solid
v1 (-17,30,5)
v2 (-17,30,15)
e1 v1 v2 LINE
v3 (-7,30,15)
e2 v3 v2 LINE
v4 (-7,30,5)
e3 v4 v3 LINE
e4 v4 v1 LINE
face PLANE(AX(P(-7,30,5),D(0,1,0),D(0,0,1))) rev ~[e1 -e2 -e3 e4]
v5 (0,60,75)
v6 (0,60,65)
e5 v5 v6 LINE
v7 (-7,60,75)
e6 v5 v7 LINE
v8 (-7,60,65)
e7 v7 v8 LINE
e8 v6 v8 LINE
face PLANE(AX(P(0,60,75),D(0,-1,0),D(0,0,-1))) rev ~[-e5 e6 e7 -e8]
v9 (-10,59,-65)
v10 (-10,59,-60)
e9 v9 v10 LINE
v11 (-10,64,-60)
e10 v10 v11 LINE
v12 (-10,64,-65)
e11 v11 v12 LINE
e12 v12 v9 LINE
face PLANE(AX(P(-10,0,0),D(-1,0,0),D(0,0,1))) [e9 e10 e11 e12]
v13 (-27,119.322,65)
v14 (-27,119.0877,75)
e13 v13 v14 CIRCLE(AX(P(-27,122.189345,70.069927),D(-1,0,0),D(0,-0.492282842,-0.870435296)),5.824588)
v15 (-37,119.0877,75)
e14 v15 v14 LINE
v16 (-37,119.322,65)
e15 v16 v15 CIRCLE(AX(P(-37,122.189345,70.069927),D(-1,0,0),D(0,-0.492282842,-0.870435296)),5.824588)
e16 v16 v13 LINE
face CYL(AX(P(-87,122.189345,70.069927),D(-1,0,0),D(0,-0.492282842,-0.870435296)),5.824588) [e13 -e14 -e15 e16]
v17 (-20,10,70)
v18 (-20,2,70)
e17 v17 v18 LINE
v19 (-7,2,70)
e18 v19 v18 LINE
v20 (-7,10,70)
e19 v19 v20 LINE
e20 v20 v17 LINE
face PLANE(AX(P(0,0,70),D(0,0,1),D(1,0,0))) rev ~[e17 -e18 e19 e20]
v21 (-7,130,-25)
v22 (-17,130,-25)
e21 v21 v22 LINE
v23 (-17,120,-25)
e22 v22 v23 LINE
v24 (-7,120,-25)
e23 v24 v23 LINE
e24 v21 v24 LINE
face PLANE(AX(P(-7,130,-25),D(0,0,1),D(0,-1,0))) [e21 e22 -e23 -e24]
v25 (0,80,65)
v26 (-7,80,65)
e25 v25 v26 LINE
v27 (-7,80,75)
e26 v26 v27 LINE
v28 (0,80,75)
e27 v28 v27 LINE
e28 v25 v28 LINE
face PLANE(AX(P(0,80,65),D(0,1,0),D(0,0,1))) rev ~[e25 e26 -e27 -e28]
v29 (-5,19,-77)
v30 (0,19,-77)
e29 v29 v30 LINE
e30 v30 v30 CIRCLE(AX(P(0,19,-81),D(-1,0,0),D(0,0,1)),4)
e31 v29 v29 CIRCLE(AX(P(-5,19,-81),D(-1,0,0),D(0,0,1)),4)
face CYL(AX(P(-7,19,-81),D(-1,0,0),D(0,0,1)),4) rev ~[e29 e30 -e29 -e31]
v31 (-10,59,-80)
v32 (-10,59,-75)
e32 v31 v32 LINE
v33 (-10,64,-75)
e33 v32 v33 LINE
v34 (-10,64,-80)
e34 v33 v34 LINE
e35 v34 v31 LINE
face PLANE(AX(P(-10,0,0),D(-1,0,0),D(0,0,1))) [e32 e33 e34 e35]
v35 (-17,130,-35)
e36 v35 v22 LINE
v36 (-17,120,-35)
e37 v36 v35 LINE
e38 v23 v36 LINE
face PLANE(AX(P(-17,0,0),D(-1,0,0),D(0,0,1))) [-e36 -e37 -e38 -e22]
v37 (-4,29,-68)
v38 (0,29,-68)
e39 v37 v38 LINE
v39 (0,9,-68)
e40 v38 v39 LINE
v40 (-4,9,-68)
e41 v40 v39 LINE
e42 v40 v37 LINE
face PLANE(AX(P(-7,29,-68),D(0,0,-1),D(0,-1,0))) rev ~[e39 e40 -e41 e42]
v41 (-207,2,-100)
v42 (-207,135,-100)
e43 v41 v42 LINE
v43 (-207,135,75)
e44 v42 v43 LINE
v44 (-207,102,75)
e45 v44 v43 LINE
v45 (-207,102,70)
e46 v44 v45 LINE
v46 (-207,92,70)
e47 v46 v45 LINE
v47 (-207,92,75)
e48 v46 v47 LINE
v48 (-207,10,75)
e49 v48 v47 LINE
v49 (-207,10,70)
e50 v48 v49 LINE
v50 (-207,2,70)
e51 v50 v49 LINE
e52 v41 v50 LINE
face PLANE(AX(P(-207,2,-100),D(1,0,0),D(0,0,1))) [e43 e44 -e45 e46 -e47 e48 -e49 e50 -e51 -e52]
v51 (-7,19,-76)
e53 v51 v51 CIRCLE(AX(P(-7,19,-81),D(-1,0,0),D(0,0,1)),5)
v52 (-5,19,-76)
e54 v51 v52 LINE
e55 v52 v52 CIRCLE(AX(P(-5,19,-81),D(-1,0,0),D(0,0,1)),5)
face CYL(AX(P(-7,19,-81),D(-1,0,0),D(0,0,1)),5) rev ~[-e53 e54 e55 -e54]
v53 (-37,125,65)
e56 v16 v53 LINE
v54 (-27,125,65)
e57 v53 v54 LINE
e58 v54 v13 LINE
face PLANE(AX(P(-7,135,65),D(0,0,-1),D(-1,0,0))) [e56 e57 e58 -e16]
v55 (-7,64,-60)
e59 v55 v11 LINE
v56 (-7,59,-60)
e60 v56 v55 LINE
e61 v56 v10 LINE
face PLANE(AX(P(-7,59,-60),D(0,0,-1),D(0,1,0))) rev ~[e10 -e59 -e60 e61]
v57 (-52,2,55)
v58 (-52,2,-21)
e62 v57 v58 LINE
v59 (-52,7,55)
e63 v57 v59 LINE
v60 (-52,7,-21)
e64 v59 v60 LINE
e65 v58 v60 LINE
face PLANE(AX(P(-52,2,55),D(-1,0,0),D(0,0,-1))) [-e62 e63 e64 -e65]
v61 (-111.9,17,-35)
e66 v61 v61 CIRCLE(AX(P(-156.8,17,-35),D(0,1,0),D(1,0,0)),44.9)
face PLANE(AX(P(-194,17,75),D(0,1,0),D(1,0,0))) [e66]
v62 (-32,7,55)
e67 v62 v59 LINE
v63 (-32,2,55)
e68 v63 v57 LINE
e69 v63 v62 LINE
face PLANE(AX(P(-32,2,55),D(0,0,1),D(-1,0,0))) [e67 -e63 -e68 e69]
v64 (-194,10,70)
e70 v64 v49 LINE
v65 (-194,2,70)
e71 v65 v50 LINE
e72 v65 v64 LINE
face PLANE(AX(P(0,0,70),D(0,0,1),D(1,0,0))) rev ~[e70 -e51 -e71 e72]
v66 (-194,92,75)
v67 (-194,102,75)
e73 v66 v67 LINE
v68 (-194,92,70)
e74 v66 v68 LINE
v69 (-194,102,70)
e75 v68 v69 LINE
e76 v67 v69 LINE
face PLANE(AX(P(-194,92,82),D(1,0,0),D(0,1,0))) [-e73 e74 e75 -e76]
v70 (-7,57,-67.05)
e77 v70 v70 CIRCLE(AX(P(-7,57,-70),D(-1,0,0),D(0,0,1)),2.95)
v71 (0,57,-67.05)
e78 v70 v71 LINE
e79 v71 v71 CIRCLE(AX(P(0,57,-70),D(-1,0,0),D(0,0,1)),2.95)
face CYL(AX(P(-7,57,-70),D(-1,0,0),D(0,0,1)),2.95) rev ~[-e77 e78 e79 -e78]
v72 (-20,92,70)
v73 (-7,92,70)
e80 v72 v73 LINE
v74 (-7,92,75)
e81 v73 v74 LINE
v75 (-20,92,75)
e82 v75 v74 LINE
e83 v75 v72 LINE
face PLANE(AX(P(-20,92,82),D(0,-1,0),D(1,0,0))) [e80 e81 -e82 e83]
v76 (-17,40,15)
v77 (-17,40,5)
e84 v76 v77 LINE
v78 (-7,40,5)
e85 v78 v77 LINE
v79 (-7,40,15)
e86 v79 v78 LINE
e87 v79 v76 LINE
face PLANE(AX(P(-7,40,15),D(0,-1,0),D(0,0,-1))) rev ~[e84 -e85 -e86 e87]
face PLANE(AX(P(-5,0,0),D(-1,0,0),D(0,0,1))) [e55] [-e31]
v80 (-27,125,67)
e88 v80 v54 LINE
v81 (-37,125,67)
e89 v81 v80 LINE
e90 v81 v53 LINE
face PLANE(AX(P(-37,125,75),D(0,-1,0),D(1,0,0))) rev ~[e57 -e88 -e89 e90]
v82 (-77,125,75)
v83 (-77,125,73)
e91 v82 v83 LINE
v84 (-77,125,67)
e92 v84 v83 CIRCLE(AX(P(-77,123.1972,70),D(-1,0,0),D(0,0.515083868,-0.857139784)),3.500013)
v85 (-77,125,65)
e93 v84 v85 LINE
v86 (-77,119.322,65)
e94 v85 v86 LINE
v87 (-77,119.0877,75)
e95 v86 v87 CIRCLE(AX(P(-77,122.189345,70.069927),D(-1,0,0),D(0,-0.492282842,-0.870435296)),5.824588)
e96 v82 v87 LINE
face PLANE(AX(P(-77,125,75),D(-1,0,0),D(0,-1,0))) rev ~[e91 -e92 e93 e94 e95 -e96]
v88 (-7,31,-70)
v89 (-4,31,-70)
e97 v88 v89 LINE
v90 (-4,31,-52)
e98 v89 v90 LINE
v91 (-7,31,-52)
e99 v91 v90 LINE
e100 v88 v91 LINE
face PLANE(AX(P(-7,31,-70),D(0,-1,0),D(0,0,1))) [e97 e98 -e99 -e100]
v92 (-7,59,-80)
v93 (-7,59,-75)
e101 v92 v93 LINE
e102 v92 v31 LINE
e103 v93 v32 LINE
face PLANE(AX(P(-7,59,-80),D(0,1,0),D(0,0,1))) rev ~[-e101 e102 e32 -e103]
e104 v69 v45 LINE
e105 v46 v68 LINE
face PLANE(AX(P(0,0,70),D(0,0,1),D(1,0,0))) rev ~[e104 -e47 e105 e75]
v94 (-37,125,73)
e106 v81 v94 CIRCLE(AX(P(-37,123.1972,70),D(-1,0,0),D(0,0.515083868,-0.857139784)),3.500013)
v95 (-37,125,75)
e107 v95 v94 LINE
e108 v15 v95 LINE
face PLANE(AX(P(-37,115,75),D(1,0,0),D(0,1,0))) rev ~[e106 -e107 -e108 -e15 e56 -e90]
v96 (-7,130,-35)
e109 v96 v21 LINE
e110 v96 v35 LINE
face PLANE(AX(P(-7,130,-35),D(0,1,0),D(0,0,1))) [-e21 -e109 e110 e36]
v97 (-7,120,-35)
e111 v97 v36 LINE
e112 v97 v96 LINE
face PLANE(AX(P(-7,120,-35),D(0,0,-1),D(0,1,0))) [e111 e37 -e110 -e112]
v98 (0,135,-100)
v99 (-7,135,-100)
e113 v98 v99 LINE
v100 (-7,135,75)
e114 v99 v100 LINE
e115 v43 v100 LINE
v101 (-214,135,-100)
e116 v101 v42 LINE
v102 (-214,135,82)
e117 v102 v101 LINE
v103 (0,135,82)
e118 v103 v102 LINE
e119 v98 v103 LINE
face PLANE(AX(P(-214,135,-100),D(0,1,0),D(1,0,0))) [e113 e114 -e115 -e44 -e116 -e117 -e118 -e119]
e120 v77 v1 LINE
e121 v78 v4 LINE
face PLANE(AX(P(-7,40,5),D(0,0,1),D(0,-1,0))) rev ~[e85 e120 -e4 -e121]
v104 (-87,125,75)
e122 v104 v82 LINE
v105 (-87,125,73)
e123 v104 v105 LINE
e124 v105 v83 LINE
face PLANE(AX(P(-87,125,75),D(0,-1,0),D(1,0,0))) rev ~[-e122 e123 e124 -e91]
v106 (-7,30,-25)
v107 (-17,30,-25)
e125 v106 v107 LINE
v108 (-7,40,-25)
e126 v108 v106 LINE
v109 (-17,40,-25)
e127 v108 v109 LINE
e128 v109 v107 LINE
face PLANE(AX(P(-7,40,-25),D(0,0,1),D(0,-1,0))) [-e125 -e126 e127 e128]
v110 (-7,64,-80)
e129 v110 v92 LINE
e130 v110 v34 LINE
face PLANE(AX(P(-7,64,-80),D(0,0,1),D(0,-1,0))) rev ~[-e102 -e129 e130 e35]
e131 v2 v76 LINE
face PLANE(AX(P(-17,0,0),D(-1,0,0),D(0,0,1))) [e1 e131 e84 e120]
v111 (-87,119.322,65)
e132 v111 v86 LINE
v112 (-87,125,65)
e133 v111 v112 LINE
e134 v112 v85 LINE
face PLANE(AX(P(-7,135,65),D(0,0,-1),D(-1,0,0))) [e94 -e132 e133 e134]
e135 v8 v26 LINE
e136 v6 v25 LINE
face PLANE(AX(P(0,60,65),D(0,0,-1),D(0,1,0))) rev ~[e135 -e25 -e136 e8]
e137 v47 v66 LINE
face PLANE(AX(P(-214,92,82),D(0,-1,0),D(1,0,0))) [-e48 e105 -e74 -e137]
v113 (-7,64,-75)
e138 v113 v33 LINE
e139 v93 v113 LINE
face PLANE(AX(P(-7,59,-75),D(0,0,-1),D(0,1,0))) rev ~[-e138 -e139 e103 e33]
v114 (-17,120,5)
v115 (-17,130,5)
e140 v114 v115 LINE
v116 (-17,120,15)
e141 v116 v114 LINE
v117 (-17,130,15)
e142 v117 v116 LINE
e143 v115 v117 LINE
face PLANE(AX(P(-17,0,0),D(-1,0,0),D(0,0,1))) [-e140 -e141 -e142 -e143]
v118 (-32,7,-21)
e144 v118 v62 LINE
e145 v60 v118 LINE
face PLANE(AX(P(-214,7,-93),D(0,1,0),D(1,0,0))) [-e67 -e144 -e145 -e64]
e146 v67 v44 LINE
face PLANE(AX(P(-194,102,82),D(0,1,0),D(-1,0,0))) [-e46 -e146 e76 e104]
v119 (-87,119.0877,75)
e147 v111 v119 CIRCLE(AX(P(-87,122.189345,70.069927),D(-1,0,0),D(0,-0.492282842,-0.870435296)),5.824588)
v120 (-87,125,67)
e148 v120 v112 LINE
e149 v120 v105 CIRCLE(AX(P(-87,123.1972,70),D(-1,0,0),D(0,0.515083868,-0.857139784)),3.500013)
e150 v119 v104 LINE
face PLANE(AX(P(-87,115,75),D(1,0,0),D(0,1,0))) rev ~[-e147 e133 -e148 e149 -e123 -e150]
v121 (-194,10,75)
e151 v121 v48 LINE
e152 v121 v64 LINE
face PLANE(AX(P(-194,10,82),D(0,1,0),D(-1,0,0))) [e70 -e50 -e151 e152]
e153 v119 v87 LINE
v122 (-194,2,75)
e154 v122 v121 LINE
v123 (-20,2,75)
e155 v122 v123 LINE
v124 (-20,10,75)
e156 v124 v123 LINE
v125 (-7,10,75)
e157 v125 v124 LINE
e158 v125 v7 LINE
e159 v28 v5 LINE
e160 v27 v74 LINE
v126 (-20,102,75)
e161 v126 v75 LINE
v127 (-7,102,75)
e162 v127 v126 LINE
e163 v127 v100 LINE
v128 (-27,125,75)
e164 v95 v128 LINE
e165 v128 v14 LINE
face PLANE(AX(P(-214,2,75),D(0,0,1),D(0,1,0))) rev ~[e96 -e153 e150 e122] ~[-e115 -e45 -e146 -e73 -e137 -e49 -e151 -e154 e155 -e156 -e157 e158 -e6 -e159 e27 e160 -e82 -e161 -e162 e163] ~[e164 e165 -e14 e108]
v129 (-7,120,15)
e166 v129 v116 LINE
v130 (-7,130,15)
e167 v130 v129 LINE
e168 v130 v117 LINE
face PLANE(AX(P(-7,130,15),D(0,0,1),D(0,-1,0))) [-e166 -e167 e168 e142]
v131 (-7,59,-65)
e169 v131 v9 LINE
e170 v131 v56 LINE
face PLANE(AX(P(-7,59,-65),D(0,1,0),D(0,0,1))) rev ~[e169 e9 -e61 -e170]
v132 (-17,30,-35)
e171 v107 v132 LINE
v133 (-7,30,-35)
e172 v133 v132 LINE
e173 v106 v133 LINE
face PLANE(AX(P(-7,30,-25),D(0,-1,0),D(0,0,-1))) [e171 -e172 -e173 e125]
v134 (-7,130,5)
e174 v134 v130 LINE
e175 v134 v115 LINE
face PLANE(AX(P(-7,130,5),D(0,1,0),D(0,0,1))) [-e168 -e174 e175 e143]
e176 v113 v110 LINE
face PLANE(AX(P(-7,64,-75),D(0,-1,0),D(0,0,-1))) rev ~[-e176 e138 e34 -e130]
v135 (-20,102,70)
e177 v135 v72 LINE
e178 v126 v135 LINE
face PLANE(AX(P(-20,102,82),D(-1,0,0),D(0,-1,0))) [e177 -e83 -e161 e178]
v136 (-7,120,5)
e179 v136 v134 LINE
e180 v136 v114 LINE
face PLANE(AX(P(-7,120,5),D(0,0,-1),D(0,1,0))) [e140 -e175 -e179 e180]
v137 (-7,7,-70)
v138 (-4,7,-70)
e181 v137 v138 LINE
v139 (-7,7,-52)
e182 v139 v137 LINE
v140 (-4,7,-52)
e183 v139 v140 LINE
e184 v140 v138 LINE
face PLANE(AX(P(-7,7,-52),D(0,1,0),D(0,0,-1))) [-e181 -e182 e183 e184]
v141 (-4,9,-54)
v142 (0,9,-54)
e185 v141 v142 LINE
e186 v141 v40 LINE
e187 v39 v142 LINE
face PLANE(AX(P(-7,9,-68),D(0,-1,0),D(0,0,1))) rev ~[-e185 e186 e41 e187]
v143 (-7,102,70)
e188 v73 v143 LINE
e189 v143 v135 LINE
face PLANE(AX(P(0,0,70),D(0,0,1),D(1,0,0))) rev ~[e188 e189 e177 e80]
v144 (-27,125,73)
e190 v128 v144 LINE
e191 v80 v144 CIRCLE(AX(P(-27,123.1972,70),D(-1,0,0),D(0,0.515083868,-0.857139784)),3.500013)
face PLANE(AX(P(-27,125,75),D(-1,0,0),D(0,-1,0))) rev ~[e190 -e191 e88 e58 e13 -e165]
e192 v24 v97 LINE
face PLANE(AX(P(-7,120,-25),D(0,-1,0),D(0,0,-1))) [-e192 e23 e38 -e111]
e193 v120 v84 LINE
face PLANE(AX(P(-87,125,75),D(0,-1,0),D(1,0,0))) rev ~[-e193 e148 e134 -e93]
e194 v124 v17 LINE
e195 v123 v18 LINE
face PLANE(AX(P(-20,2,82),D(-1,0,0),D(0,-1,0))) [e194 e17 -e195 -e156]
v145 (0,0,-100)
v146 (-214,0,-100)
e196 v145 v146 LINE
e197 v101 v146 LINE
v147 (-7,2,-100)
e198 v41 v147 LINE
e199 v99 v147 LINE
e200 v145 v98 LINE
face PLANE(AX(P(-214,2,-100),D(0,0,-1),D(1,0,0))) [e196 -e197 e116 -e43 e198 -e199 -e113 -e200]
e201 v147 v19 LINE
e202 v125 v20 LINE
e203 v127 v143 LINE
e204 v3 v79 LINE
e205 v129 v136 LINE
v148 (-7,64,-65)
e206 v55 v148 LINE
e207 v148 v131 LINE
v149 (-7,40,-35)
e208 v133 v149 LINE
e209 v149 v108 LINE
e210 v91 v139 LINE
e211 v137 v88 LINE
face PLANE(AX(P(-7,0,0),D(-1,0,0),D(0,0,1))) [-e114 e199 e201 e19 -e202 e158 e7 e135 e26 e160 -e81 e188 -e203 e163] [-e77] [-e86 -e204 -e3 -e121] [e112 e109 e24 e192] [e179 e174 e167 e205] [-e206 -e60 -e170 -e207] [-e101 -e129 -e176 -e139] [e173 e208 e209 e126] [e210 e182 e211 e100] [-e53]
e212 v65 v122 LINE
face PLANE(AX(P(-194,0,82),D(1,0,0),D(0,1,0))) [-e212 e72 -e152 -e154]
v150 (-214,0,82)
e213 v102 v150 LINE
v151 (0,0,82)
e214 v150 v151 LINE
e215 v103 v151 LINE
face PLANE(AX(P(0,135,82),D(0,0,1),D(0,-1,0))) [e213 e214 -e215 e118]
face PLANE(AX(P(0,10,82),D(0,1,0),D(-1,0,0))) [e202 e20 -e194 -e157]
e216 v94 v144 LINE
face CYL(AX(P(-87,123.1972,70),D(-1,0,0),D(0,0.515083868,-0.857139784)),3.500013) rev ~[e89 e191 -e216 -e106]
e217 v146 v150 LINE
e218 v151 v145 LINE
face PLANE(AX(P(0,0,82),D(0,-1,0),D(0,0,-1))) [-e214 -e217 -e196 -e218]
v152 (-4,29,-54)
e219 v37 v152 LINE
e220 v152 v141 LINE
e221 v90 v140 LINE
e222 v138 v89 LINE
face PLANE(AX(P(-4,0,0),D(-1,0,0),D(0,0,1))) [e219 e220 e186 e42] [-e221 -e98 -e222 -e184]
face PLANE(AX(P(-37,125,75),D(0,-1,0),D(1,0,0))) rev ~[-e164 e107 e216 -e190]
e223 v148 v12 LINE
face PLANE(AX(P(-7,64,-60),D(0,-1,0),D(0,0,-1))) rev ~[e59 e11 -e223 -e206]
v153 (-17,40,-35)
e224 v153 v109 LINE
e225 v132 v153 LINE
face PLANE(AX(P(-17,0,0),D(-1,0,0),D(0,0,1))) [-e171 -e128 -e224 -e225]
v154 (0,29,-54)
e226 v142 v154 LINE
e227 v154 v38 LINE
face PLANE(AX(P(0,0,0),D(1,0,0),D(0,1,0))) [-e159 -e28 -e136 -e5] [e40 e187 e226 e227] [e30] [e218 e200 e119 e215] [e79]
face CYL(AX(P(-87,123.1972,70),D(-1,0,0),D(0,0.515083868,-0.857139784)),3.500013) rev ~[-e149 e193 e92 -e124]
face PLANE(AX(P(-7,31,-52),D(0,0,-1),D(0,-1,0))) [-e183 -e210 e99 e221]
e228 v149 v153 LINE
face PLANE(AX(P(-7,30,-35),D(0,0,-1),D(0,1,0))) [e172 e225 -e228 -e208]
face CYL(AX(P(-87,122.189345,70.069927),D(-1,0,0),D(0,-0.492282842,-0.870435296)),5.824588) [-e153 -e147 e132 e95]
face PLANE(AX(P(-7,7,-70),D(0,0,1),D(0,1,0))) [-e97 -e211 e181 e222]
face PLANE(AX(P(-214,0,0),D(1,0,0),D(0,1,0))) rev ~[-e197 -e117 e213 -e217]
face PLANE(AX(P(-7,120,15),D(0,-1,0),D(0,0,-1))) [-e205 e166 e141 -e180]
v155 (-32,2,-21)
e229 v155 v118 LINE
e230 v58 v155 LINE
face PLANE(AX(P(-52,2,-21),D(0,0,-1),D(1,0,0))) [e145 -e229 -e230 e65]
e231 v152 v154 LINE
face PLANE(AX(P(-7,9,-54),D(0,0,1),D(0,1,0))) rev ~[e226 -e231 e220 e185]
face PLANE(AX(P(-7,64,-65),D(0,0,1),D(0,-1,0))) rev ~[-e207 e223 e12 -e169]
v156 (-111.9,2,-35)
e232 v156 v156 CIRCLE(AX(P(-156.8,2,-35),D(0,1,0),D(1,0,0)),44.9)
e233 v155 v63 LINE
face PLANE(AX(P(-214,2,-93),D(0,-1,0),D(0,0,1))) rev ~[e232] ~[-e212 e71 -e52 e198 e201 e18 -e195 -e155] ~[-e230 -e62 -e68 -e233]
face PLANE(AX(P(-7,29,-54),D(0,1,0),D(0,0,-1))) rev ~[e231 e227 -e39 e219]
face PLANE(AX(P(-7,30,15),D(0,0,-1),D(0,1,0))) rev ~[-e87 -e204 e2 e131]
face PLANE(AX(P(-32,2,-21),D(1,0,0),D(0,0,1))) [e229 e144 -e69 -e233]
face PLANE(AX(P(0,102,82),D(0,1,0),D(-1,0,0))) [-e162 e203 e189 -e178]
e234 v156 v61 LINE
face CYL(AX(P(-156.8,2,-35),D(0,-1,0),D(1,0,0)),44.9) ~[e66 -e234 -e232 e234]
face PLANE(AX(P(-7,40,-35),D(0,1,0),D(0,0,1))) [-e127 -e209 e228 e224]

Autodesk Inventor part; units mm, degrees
ref_plane "YZ Plane" through (0, 0, 0) normal (1, 0, 0) x (0, 1, 0)
ref_plane "XY Plane" through (0, 0, 0) normal (0, 0, 1) x (1, 0, 0)
sketch "Boceto1" plane through (0, 0, 0) normal (1, 0, 0) x (0, 1, 0)
  line L0 (135, 82) -> (0, 82)
  line L1 (0, 82) -> (0, -100)
  line L2 (0, -100) -> (135, -100)
  line L3 (135, -100) -> (135, 82)
  line L4 (135, 82) -> (0, -100) construction
  line L5 (0, 82) -> (135, -100) construction
  point P0 (0, 0)
  point P1 (67.5, -9)
  dimension "d0" = 182
  dimension "d1" = 135
  dimension "d2" = 100
extrude "Extrusión1" add sketch "Boceto1" against normal blind 214
sketch "Boceto2" plane through (-214, 0, 0) normal (-1, 0, 0) x (0, 0, 1)
  line L0 (82, 135) -> (-100, 135) projected
  line L1 (-93, 2) -> (75, 2)
  line L2 (75, 2) -> (75, 135)
  line L3 (75, 135) -> (-93, 135)
  line L4 (-93, 135) -> (-93, 2)
  line L5 (-93, 2) -> (75, 135) construction
  line L6 (75, 2) -> (-93, 135) construction
  line L7 (-100, 0) -> (82, 0) projected
  line L8 (82, 0) -> (82, 135) projected
  line L9 (-100, 135) -> (-100, 0) projected
  point P0 (0, 0)
  point P1 (-9, 68.5)
  point P2 (-93, 135)
  dimension "d5" = 2
  dimension "d6" = 7
  dimension "d7" = 7
extrude "Extrusión2" cut sketch "Boceto2" against normal blind 207 contours L2 L1 L4 L0
sketch "Boceto3" plane through (0, 0, 82) normal (0, 0, 1) x (1, 0, 0)
  line L0 (-20, 0) -> (0, 0)
  line L1 (0, 0) -> (0, 10)
  line L2 (0, 10) -> (-20, 10)
  line L3 (-20, 10) -> (-20, 0)
  line L4 (-20, 0) -> (0, 10) construction
  line L5 (0, 0) -> (-20, 10) construction
  line L6 (-214, 0) -> (-194, 0)
  line L7 (-194, 0) -> (-194, 10)
  line L8 (-194, 10) -> (-214, 10)
  line L9 (-214, 10) -> (-214, 0)
  line L10 (-214, 0) -> (-194, 10) construction
  line L11 (-194, 0) -> (-214, 10) construction
  line L12 (-20, 92) -> (0, 92)
  line L13 (0, 92) -> (0, 102)
  line L14 (0, 102) -> (-20, 102)
  line L15 (-20, 102) -> (-20, 92)
  line L16 (-20, 92) -> (0, 102) construction
  line L17 (0, 92) -> (-20, 102) construction
  line L18 (-214, 0) -> (-214, 135) projected
  line L19 (0, 135) -> (0, 0) projected
  line L20 (0, 0) -> (-214, 0) projected
  line L21 (-214, 92) -> (-194, 92)
  line L22 (-194, 92) -> (-194, 102)
  line L23 (-194, 102) -> (-214, 102)
  line L24 (-214, 102) -> (-214, 92)
  line L25 (-214, 92) -> (-194, 102) construction
  line L26 (-194, 92) -> (-214, 102) construction
  line L27 (-214, 2) -> (-7, 2) projected
  point P0 (-10, 5)
  point P1 (-204, 5)
  point P2 (-10, 97)
  point P3 (-204, 97)
  point P4 (-10, 0)
  dimension "d10" = 20
  dimension "d11" = 10
  dimension "d13" = 10
  dimension "d14" = 20
  dimension "d65" = 100
extrude "Extrusión3" add sketch "Boceto3" against normal blind 12 contours L3 L2 L1 L0 | L18 L23 L22 L21 | L12 L15 L14 L13 | L6 L9 L27 L7 | L27 L9 L8 L7
sketch "Sketch4" plane through (0, 0, 0) normal (1, 0, 0) x (0, 0, -1)
  line L0 (-82, 0) -> (-82, 135)
  line L1 (-100, 90) -> (-100, 60)
  line L2 (-82, 0) -> (100, 0) projected
  line L3 (-75, 60) -> (-65, 60)
  line L4 (-65, 60) -> (-65, 80)
  line L5 (-65, 80) -> (-75, 80)
  line L6 (-75, 80) -> (-75, 60)
  line L7 (-75, 60) -> (-65, 80) construction
  line L8 (-65, 60) -> (-75, 80) construction
  point P0 (0, 0)
  point P1 (-70, 70)
  point P2 (-70, 60)
  dimension "d43" = 17
  dimension "d44" = 7
  dimension "d45" = 20
  dimension "d46" = 60
extrude "Extrusion4" cut sketch "Sketch4" against normal up to next
sketch "Sketch5" plane through (-7, 0, 0) normal (-1, 0, 0) x (0, 0, 1)
  line L0 (-35, 130) -> (-25, 130)
  line L1 (-25, 130) -> (-25, 120)
  line L2 (-25, 120) -> (-35, 120)
  line L3 (-35, 120) -> (-35, 130)
  line L4 (5, 130) -> (15, 130)
  line L5 (15, 130) -> (15, 120)
  line L6 (15, 120) -> (5, 120)
  line L7 (5, 120) -> (5, 130)
  line L8 (-35, 40) -> (-25, 40)
  line L9 (-25, 40) -> (-25, 30)
  line L10 (-25, 30) -> (-35, 30)
  line L11 (-35, 30) -> (-35, 40)
  line L12 (15, 40) -> (5, 40)
  line L13 (5, 40) -> (5, 30)
  line L14 (5, 30) -> (15, 30)
  line L15 (15, 30) -> (15, 40)
  line L16 (-93, 135) -> (75, 135) projected
  line L17 (75, 135) -> (75, 102) projected
  line L18 (70, 2) -> (-93, 2) projected
  line L19 (75, 92) -> (75, 10) projected
  point P0 (0, 0)
  point P1 (-30, 130)
  point P2 (-30, 30)
  point P3 (10, 130)
  point P4 (15, 125)
  dimension "d25" = 10
  dimension "d26" = 10
  dimension "d27" = 10
  dimension "d28" = 10
  dimension "d29" = 100
  dimension "d31" = 5
  dimension "d32" = 60
  dimension "d77" = 50
extrude "Extrusion5" add sketch "Sketch5" along normal blind 10
sketch "Sketch8" plane through (-7, 135, 75) normal (0, 0, -1) x (-1, 0, 0)
  line L0 (20, -20) -> (30, -20)
  line L1 (30, -20) -> (30, -10)
  line L2 (30, -10) -> (20, -10)
  line L3 (20, -10) -> (20, -20)
  line L4 (20, -20) -> (30, -10) construction
  line L5 (30, -20) -> (20, -10) construction
  line L6 (70, -20) -> (80, -20)
  line L7 (80, -20) -> (80, -10)
  line L8 (80, -10) -> (70, -10)
  line L9 (70, -10) -> (70, -20)
  line L10 (70, -20) -> (80, -10) construction
  line L11 (80, -20) -> (70, -10) construction
  line L12 (0, 0) -> (207, 0) projected
  line L13 (0, 0) -> (0, -33) projected
  point P0 (-7, -135)
  point P1 (25, -15)
  point P2 (75, -15)
  dimension "d47" = 10
  dimension "d48" = 10
  dimension "d49" = 10
  dimension "d50" = 10
  dimension "d51" = 50
  dimension "d52" = 10
  dimension "d53" = 20
extrude "Extrusion6" add sketch "Sketch8" along normal blind 10
sketch "Sketch9" plane through (-7, 0, 0) normal (-1, 0, 0) x (0, 0, 1)
  line L0 (-68, 9) -> (-54, 9)
  line L1 (-54, 9) -> (-54, 29)
  line L2 (-54, 29) -> (-68, 29)
  line L3 (-68, 29) -> (-68, 9)
  line L4 (-68, 9) -> (-54, 29) construction
  line L5 (-54, 9) -> (-68, 29) construction
  line L6 (70, 2) -> (-93, 2) projected
  line L7 (-93, 2) -> (-93, 135) projected
  circle A0 centre (-81, 19) radius 4
  point P0 (0, 0)
  point P1 (-61, 19)
  dimension "d56" = 20
  dimension "d57" = 14
  dimension "d58" = 7
  dimension "d59" = 25
  dimension "d60" = 8
  dimension "d61" = 20
  dimension "d62" = 17
extrude "Extrusion7" cut sketch "Sketch9" against normal up to next
sketch "Sketch10" plane through (-87, 115, 75) normal (-1, 0, 0) x (0, 0, 1)
  line L0 (0, 10) -> (-10, 10) projected
  arc A0 (-8, 10) -> (-2, 10) centre (-5, 8.1972) ccw
  line L1 (0, 20) -> (0, -13) projected
  point P0 (-75, -115)
  dimension "d66" = 3.5
  dimension "d67" = 2
  dimension "d68" = 2
extrude "Extrusion8" cut sketch "Sketch10" against normal up to surface (60 mm away)
sketch "Sketch11" plane through (-87, 115, 75) normal (-1, 0, 0) x (0, 0, 1)
  line L0 (-10, 10) -> (-10, 0) projected
  line L1 (0, 0) -> (0, 10) projected
  arc A0 (-10, 4.322) -> (0, 4.0877) centre (-4.9301, 7.1893) ccw
  line L2 (-10, 4.322) -> (-10, 0)
  line L3 (0, 0) -> (-10, 0) projected
  line L4 (0, 0) -> (0, 4.0877)
  line L5 (-10, 4.322) -> (-10, 0)
  line L6 (0, 0) -> (0, 4.0877)
  line L7 (-10, 4.322) -> (-10, 0)
  line L8 (0, 0) -> (0, 4.0877)
  line L9 (-10, 4.322) -> (-10, 0)
  line L10 (0, 0) -> (0, 4.0877)
  point P0 (-75, -115)
  point P1 (-5, 0)
  point P2 (-5.0665, 1.3663)
  dimension "d71" = 5.8246
  dimension "d73" = 4.322
  dimension "d74" = 1.3663
extrude "Extrusion9" cut sketch "Sketch11" against normal up to surface (60 mm away)
sketch "Sketch12" plane through (-214, 2, -93) normal (0, 1, 0) x (1, 0, 0)
  line L0 (162, -72) -> (182, -72)
  line L1 (182, -72) -> (182, -148)
  line L2 (182, -148) -> (162, -148)
  line L3 (162, -148) -> (162, -72)
  line L4 (162, -72) -> (182, -148) construction
  line L5 (182, -72) -> (162, -148) construction
  line L6 (207, 0) -> (207, -168) projected
  line L7 (207, -168) -> (0, -168) projected
  point P0 (214, -93)
  point P1 (172, -110)
  dimension "d78" = 76
  dimension "d79" = 20
  dimension "d80" = 25
  dimension "d81" = 20
extrude "Extrusion10" add sketch "Sketch12" along normal blind 5
sketch "Sketch13" plane through (-214, 2, -93) normal (0, 0, 1) x (1, 0, 0)
  line L0 (214, 133) -> (0, 133) projected
  line L1 (0, 0) -> (207, 0) projected
  line L2 (0, 133) -> (207, 133)
  line L3 (207, 133) -> (207, 0)
  line L4 (207, 0) -> (0, 0)
  line L5 (0, 0) -> (0, 133)
  point P0 (214, -2)
extrude "Extrusion11" cut sketch "Sketch13" against normal up to next
sketch "Sketch15" plane through (-214, 2, -100) normal (0, 1, 0) x (1, 0, 0)
  line L0 (20, -175) -> (0, -175) projected
  line L1 (0, 0) -> (0, -182) projected
  line L2 (7, -175) -> (0, -175)
  line L3 (0, -175) -> (0, 0)
  line L4 (0, 0) -> (7, 0)
  line L5 (7, 0) -> (7, -175)
  point P0 (214, -100)
  dimension "d90" = 7
extrude "Extrusion13" add sketch "Sketch15" along normal up to surface (133 mm away)
sketch "Sketch16" plane through (-194, 2, 75) normal (0, 1, 0) x (1, 0, 0)
  circle A0 centre (37.2, 110) radius 44.9
  line L0 (-13, 175) -> (-13, 0) projected
  line L1 (-13, 175) -> (187, 175) projected
  point P0 (194, 75)
  dimension "d93" = 89.8
  dimension "d94" = 50.2
  dimension "d95" = 65
extrude "Extrusion14" add sketch "Sketch16" along normal blind 15
sketch "Sketch17" plane through (-7, 0, 0) normal (-1, 0, 0) x (0, 0, 1)
  line L0 (-70, 31) -> (-52, 31)
  line L1 (-52, 31) -> (-52, 7)
  line L2 (-52, 7) -> (-70, 7)
  line L3 (-70, 7) -> (-70, 31)
  line L4 (-68, 29) -> (-54, 29) projected
  line L5 (-54, 29) -> (-54, 9) projected
  line L6 (-54, 9) -> (-68, 9) projected
  line L7 (-68, 9) -> (-68, 29) projected
  point P0 (0, 0)
  dimension "d98" = 2
  dimension "d99" = 2
  dimension "d100" = 2
  dimension "d101" = 2
extrude "Extrusion15" cut sketch "Sketch17" against normal blind 3 contours L0 L1 L2 L3 | L4 L5 L6 L7
sketch "Sketch18" plane through (-7, 0, 0) normal (-1, 0, 0) x (0, 0, 1)
  circle A0 centre (-70, 57) radius 2.95
  line L0 (70, 2) -> (-100, 2) projected
  line L1 (-100, 2) -> (-100, 135) projected
  point P0 (0, 0)
  dimension "d104" = 5.9
  dimension "d105" = 55
  dimension "d106" = 30
extrude "Extrusion16" cut sketch "Sketch18" against normal up to surface (7 mm away)
sketch "Sketch19" plane through (-7, 0, 0) normal (-1, 0, 0) x (0, 0, 1)
  line L0 (-80, 59) -> (-75, 59)
  line L1 (-75, 59) -> (-75, 64)
  line L2 (-75, 64) -> (-80, 64)
  line L3 (-80, 64) -> (-80, 59)
  line L4 (-65, 59) -> (-60, 59)
  line L5 (-60, 59) -> (-60, 64)
  line L6 (-60, 64) -> (-65, 64)
  line L7 (-65, 64) -> (-65, 59)
  circle A0 centre (-70, 57) radius 2.95 projected
  point P0 (0, 0)
  dimension "d109" = 5
  dimension "d110" = 5
  dimension "d111" = 5
  dimension "d112" = 5
  dimension "d113" = 20
  dimension "d114" = 5
  dimension "d115" = 2
extrude "Extrusion17" add sketch "Sketch19" along normal blind 3 contours L3 L2 L1 L0 | L7 L6 L5 L4
sketch "Sketch20" plane through (-7, 0, 0) normal (-1, 0, 0) x (0, 0, 1)
  circle A0 centre (-81, 19) radius 5
  circle A1 centre (-81, 19) radius 4 projected
  point P0 (0, 0)
  dimension "d118" = 1
extrude "Extrusion18" cut sketch "Sketch20" against normal blind 2 contours A0 | A1
ref_plane "Work Plane1" through (-207, 135, 31.25) normal (-1, 0, 0) x (0, 0, 1)
split_face "Split1"
properties part number "estructura_pieza1"
